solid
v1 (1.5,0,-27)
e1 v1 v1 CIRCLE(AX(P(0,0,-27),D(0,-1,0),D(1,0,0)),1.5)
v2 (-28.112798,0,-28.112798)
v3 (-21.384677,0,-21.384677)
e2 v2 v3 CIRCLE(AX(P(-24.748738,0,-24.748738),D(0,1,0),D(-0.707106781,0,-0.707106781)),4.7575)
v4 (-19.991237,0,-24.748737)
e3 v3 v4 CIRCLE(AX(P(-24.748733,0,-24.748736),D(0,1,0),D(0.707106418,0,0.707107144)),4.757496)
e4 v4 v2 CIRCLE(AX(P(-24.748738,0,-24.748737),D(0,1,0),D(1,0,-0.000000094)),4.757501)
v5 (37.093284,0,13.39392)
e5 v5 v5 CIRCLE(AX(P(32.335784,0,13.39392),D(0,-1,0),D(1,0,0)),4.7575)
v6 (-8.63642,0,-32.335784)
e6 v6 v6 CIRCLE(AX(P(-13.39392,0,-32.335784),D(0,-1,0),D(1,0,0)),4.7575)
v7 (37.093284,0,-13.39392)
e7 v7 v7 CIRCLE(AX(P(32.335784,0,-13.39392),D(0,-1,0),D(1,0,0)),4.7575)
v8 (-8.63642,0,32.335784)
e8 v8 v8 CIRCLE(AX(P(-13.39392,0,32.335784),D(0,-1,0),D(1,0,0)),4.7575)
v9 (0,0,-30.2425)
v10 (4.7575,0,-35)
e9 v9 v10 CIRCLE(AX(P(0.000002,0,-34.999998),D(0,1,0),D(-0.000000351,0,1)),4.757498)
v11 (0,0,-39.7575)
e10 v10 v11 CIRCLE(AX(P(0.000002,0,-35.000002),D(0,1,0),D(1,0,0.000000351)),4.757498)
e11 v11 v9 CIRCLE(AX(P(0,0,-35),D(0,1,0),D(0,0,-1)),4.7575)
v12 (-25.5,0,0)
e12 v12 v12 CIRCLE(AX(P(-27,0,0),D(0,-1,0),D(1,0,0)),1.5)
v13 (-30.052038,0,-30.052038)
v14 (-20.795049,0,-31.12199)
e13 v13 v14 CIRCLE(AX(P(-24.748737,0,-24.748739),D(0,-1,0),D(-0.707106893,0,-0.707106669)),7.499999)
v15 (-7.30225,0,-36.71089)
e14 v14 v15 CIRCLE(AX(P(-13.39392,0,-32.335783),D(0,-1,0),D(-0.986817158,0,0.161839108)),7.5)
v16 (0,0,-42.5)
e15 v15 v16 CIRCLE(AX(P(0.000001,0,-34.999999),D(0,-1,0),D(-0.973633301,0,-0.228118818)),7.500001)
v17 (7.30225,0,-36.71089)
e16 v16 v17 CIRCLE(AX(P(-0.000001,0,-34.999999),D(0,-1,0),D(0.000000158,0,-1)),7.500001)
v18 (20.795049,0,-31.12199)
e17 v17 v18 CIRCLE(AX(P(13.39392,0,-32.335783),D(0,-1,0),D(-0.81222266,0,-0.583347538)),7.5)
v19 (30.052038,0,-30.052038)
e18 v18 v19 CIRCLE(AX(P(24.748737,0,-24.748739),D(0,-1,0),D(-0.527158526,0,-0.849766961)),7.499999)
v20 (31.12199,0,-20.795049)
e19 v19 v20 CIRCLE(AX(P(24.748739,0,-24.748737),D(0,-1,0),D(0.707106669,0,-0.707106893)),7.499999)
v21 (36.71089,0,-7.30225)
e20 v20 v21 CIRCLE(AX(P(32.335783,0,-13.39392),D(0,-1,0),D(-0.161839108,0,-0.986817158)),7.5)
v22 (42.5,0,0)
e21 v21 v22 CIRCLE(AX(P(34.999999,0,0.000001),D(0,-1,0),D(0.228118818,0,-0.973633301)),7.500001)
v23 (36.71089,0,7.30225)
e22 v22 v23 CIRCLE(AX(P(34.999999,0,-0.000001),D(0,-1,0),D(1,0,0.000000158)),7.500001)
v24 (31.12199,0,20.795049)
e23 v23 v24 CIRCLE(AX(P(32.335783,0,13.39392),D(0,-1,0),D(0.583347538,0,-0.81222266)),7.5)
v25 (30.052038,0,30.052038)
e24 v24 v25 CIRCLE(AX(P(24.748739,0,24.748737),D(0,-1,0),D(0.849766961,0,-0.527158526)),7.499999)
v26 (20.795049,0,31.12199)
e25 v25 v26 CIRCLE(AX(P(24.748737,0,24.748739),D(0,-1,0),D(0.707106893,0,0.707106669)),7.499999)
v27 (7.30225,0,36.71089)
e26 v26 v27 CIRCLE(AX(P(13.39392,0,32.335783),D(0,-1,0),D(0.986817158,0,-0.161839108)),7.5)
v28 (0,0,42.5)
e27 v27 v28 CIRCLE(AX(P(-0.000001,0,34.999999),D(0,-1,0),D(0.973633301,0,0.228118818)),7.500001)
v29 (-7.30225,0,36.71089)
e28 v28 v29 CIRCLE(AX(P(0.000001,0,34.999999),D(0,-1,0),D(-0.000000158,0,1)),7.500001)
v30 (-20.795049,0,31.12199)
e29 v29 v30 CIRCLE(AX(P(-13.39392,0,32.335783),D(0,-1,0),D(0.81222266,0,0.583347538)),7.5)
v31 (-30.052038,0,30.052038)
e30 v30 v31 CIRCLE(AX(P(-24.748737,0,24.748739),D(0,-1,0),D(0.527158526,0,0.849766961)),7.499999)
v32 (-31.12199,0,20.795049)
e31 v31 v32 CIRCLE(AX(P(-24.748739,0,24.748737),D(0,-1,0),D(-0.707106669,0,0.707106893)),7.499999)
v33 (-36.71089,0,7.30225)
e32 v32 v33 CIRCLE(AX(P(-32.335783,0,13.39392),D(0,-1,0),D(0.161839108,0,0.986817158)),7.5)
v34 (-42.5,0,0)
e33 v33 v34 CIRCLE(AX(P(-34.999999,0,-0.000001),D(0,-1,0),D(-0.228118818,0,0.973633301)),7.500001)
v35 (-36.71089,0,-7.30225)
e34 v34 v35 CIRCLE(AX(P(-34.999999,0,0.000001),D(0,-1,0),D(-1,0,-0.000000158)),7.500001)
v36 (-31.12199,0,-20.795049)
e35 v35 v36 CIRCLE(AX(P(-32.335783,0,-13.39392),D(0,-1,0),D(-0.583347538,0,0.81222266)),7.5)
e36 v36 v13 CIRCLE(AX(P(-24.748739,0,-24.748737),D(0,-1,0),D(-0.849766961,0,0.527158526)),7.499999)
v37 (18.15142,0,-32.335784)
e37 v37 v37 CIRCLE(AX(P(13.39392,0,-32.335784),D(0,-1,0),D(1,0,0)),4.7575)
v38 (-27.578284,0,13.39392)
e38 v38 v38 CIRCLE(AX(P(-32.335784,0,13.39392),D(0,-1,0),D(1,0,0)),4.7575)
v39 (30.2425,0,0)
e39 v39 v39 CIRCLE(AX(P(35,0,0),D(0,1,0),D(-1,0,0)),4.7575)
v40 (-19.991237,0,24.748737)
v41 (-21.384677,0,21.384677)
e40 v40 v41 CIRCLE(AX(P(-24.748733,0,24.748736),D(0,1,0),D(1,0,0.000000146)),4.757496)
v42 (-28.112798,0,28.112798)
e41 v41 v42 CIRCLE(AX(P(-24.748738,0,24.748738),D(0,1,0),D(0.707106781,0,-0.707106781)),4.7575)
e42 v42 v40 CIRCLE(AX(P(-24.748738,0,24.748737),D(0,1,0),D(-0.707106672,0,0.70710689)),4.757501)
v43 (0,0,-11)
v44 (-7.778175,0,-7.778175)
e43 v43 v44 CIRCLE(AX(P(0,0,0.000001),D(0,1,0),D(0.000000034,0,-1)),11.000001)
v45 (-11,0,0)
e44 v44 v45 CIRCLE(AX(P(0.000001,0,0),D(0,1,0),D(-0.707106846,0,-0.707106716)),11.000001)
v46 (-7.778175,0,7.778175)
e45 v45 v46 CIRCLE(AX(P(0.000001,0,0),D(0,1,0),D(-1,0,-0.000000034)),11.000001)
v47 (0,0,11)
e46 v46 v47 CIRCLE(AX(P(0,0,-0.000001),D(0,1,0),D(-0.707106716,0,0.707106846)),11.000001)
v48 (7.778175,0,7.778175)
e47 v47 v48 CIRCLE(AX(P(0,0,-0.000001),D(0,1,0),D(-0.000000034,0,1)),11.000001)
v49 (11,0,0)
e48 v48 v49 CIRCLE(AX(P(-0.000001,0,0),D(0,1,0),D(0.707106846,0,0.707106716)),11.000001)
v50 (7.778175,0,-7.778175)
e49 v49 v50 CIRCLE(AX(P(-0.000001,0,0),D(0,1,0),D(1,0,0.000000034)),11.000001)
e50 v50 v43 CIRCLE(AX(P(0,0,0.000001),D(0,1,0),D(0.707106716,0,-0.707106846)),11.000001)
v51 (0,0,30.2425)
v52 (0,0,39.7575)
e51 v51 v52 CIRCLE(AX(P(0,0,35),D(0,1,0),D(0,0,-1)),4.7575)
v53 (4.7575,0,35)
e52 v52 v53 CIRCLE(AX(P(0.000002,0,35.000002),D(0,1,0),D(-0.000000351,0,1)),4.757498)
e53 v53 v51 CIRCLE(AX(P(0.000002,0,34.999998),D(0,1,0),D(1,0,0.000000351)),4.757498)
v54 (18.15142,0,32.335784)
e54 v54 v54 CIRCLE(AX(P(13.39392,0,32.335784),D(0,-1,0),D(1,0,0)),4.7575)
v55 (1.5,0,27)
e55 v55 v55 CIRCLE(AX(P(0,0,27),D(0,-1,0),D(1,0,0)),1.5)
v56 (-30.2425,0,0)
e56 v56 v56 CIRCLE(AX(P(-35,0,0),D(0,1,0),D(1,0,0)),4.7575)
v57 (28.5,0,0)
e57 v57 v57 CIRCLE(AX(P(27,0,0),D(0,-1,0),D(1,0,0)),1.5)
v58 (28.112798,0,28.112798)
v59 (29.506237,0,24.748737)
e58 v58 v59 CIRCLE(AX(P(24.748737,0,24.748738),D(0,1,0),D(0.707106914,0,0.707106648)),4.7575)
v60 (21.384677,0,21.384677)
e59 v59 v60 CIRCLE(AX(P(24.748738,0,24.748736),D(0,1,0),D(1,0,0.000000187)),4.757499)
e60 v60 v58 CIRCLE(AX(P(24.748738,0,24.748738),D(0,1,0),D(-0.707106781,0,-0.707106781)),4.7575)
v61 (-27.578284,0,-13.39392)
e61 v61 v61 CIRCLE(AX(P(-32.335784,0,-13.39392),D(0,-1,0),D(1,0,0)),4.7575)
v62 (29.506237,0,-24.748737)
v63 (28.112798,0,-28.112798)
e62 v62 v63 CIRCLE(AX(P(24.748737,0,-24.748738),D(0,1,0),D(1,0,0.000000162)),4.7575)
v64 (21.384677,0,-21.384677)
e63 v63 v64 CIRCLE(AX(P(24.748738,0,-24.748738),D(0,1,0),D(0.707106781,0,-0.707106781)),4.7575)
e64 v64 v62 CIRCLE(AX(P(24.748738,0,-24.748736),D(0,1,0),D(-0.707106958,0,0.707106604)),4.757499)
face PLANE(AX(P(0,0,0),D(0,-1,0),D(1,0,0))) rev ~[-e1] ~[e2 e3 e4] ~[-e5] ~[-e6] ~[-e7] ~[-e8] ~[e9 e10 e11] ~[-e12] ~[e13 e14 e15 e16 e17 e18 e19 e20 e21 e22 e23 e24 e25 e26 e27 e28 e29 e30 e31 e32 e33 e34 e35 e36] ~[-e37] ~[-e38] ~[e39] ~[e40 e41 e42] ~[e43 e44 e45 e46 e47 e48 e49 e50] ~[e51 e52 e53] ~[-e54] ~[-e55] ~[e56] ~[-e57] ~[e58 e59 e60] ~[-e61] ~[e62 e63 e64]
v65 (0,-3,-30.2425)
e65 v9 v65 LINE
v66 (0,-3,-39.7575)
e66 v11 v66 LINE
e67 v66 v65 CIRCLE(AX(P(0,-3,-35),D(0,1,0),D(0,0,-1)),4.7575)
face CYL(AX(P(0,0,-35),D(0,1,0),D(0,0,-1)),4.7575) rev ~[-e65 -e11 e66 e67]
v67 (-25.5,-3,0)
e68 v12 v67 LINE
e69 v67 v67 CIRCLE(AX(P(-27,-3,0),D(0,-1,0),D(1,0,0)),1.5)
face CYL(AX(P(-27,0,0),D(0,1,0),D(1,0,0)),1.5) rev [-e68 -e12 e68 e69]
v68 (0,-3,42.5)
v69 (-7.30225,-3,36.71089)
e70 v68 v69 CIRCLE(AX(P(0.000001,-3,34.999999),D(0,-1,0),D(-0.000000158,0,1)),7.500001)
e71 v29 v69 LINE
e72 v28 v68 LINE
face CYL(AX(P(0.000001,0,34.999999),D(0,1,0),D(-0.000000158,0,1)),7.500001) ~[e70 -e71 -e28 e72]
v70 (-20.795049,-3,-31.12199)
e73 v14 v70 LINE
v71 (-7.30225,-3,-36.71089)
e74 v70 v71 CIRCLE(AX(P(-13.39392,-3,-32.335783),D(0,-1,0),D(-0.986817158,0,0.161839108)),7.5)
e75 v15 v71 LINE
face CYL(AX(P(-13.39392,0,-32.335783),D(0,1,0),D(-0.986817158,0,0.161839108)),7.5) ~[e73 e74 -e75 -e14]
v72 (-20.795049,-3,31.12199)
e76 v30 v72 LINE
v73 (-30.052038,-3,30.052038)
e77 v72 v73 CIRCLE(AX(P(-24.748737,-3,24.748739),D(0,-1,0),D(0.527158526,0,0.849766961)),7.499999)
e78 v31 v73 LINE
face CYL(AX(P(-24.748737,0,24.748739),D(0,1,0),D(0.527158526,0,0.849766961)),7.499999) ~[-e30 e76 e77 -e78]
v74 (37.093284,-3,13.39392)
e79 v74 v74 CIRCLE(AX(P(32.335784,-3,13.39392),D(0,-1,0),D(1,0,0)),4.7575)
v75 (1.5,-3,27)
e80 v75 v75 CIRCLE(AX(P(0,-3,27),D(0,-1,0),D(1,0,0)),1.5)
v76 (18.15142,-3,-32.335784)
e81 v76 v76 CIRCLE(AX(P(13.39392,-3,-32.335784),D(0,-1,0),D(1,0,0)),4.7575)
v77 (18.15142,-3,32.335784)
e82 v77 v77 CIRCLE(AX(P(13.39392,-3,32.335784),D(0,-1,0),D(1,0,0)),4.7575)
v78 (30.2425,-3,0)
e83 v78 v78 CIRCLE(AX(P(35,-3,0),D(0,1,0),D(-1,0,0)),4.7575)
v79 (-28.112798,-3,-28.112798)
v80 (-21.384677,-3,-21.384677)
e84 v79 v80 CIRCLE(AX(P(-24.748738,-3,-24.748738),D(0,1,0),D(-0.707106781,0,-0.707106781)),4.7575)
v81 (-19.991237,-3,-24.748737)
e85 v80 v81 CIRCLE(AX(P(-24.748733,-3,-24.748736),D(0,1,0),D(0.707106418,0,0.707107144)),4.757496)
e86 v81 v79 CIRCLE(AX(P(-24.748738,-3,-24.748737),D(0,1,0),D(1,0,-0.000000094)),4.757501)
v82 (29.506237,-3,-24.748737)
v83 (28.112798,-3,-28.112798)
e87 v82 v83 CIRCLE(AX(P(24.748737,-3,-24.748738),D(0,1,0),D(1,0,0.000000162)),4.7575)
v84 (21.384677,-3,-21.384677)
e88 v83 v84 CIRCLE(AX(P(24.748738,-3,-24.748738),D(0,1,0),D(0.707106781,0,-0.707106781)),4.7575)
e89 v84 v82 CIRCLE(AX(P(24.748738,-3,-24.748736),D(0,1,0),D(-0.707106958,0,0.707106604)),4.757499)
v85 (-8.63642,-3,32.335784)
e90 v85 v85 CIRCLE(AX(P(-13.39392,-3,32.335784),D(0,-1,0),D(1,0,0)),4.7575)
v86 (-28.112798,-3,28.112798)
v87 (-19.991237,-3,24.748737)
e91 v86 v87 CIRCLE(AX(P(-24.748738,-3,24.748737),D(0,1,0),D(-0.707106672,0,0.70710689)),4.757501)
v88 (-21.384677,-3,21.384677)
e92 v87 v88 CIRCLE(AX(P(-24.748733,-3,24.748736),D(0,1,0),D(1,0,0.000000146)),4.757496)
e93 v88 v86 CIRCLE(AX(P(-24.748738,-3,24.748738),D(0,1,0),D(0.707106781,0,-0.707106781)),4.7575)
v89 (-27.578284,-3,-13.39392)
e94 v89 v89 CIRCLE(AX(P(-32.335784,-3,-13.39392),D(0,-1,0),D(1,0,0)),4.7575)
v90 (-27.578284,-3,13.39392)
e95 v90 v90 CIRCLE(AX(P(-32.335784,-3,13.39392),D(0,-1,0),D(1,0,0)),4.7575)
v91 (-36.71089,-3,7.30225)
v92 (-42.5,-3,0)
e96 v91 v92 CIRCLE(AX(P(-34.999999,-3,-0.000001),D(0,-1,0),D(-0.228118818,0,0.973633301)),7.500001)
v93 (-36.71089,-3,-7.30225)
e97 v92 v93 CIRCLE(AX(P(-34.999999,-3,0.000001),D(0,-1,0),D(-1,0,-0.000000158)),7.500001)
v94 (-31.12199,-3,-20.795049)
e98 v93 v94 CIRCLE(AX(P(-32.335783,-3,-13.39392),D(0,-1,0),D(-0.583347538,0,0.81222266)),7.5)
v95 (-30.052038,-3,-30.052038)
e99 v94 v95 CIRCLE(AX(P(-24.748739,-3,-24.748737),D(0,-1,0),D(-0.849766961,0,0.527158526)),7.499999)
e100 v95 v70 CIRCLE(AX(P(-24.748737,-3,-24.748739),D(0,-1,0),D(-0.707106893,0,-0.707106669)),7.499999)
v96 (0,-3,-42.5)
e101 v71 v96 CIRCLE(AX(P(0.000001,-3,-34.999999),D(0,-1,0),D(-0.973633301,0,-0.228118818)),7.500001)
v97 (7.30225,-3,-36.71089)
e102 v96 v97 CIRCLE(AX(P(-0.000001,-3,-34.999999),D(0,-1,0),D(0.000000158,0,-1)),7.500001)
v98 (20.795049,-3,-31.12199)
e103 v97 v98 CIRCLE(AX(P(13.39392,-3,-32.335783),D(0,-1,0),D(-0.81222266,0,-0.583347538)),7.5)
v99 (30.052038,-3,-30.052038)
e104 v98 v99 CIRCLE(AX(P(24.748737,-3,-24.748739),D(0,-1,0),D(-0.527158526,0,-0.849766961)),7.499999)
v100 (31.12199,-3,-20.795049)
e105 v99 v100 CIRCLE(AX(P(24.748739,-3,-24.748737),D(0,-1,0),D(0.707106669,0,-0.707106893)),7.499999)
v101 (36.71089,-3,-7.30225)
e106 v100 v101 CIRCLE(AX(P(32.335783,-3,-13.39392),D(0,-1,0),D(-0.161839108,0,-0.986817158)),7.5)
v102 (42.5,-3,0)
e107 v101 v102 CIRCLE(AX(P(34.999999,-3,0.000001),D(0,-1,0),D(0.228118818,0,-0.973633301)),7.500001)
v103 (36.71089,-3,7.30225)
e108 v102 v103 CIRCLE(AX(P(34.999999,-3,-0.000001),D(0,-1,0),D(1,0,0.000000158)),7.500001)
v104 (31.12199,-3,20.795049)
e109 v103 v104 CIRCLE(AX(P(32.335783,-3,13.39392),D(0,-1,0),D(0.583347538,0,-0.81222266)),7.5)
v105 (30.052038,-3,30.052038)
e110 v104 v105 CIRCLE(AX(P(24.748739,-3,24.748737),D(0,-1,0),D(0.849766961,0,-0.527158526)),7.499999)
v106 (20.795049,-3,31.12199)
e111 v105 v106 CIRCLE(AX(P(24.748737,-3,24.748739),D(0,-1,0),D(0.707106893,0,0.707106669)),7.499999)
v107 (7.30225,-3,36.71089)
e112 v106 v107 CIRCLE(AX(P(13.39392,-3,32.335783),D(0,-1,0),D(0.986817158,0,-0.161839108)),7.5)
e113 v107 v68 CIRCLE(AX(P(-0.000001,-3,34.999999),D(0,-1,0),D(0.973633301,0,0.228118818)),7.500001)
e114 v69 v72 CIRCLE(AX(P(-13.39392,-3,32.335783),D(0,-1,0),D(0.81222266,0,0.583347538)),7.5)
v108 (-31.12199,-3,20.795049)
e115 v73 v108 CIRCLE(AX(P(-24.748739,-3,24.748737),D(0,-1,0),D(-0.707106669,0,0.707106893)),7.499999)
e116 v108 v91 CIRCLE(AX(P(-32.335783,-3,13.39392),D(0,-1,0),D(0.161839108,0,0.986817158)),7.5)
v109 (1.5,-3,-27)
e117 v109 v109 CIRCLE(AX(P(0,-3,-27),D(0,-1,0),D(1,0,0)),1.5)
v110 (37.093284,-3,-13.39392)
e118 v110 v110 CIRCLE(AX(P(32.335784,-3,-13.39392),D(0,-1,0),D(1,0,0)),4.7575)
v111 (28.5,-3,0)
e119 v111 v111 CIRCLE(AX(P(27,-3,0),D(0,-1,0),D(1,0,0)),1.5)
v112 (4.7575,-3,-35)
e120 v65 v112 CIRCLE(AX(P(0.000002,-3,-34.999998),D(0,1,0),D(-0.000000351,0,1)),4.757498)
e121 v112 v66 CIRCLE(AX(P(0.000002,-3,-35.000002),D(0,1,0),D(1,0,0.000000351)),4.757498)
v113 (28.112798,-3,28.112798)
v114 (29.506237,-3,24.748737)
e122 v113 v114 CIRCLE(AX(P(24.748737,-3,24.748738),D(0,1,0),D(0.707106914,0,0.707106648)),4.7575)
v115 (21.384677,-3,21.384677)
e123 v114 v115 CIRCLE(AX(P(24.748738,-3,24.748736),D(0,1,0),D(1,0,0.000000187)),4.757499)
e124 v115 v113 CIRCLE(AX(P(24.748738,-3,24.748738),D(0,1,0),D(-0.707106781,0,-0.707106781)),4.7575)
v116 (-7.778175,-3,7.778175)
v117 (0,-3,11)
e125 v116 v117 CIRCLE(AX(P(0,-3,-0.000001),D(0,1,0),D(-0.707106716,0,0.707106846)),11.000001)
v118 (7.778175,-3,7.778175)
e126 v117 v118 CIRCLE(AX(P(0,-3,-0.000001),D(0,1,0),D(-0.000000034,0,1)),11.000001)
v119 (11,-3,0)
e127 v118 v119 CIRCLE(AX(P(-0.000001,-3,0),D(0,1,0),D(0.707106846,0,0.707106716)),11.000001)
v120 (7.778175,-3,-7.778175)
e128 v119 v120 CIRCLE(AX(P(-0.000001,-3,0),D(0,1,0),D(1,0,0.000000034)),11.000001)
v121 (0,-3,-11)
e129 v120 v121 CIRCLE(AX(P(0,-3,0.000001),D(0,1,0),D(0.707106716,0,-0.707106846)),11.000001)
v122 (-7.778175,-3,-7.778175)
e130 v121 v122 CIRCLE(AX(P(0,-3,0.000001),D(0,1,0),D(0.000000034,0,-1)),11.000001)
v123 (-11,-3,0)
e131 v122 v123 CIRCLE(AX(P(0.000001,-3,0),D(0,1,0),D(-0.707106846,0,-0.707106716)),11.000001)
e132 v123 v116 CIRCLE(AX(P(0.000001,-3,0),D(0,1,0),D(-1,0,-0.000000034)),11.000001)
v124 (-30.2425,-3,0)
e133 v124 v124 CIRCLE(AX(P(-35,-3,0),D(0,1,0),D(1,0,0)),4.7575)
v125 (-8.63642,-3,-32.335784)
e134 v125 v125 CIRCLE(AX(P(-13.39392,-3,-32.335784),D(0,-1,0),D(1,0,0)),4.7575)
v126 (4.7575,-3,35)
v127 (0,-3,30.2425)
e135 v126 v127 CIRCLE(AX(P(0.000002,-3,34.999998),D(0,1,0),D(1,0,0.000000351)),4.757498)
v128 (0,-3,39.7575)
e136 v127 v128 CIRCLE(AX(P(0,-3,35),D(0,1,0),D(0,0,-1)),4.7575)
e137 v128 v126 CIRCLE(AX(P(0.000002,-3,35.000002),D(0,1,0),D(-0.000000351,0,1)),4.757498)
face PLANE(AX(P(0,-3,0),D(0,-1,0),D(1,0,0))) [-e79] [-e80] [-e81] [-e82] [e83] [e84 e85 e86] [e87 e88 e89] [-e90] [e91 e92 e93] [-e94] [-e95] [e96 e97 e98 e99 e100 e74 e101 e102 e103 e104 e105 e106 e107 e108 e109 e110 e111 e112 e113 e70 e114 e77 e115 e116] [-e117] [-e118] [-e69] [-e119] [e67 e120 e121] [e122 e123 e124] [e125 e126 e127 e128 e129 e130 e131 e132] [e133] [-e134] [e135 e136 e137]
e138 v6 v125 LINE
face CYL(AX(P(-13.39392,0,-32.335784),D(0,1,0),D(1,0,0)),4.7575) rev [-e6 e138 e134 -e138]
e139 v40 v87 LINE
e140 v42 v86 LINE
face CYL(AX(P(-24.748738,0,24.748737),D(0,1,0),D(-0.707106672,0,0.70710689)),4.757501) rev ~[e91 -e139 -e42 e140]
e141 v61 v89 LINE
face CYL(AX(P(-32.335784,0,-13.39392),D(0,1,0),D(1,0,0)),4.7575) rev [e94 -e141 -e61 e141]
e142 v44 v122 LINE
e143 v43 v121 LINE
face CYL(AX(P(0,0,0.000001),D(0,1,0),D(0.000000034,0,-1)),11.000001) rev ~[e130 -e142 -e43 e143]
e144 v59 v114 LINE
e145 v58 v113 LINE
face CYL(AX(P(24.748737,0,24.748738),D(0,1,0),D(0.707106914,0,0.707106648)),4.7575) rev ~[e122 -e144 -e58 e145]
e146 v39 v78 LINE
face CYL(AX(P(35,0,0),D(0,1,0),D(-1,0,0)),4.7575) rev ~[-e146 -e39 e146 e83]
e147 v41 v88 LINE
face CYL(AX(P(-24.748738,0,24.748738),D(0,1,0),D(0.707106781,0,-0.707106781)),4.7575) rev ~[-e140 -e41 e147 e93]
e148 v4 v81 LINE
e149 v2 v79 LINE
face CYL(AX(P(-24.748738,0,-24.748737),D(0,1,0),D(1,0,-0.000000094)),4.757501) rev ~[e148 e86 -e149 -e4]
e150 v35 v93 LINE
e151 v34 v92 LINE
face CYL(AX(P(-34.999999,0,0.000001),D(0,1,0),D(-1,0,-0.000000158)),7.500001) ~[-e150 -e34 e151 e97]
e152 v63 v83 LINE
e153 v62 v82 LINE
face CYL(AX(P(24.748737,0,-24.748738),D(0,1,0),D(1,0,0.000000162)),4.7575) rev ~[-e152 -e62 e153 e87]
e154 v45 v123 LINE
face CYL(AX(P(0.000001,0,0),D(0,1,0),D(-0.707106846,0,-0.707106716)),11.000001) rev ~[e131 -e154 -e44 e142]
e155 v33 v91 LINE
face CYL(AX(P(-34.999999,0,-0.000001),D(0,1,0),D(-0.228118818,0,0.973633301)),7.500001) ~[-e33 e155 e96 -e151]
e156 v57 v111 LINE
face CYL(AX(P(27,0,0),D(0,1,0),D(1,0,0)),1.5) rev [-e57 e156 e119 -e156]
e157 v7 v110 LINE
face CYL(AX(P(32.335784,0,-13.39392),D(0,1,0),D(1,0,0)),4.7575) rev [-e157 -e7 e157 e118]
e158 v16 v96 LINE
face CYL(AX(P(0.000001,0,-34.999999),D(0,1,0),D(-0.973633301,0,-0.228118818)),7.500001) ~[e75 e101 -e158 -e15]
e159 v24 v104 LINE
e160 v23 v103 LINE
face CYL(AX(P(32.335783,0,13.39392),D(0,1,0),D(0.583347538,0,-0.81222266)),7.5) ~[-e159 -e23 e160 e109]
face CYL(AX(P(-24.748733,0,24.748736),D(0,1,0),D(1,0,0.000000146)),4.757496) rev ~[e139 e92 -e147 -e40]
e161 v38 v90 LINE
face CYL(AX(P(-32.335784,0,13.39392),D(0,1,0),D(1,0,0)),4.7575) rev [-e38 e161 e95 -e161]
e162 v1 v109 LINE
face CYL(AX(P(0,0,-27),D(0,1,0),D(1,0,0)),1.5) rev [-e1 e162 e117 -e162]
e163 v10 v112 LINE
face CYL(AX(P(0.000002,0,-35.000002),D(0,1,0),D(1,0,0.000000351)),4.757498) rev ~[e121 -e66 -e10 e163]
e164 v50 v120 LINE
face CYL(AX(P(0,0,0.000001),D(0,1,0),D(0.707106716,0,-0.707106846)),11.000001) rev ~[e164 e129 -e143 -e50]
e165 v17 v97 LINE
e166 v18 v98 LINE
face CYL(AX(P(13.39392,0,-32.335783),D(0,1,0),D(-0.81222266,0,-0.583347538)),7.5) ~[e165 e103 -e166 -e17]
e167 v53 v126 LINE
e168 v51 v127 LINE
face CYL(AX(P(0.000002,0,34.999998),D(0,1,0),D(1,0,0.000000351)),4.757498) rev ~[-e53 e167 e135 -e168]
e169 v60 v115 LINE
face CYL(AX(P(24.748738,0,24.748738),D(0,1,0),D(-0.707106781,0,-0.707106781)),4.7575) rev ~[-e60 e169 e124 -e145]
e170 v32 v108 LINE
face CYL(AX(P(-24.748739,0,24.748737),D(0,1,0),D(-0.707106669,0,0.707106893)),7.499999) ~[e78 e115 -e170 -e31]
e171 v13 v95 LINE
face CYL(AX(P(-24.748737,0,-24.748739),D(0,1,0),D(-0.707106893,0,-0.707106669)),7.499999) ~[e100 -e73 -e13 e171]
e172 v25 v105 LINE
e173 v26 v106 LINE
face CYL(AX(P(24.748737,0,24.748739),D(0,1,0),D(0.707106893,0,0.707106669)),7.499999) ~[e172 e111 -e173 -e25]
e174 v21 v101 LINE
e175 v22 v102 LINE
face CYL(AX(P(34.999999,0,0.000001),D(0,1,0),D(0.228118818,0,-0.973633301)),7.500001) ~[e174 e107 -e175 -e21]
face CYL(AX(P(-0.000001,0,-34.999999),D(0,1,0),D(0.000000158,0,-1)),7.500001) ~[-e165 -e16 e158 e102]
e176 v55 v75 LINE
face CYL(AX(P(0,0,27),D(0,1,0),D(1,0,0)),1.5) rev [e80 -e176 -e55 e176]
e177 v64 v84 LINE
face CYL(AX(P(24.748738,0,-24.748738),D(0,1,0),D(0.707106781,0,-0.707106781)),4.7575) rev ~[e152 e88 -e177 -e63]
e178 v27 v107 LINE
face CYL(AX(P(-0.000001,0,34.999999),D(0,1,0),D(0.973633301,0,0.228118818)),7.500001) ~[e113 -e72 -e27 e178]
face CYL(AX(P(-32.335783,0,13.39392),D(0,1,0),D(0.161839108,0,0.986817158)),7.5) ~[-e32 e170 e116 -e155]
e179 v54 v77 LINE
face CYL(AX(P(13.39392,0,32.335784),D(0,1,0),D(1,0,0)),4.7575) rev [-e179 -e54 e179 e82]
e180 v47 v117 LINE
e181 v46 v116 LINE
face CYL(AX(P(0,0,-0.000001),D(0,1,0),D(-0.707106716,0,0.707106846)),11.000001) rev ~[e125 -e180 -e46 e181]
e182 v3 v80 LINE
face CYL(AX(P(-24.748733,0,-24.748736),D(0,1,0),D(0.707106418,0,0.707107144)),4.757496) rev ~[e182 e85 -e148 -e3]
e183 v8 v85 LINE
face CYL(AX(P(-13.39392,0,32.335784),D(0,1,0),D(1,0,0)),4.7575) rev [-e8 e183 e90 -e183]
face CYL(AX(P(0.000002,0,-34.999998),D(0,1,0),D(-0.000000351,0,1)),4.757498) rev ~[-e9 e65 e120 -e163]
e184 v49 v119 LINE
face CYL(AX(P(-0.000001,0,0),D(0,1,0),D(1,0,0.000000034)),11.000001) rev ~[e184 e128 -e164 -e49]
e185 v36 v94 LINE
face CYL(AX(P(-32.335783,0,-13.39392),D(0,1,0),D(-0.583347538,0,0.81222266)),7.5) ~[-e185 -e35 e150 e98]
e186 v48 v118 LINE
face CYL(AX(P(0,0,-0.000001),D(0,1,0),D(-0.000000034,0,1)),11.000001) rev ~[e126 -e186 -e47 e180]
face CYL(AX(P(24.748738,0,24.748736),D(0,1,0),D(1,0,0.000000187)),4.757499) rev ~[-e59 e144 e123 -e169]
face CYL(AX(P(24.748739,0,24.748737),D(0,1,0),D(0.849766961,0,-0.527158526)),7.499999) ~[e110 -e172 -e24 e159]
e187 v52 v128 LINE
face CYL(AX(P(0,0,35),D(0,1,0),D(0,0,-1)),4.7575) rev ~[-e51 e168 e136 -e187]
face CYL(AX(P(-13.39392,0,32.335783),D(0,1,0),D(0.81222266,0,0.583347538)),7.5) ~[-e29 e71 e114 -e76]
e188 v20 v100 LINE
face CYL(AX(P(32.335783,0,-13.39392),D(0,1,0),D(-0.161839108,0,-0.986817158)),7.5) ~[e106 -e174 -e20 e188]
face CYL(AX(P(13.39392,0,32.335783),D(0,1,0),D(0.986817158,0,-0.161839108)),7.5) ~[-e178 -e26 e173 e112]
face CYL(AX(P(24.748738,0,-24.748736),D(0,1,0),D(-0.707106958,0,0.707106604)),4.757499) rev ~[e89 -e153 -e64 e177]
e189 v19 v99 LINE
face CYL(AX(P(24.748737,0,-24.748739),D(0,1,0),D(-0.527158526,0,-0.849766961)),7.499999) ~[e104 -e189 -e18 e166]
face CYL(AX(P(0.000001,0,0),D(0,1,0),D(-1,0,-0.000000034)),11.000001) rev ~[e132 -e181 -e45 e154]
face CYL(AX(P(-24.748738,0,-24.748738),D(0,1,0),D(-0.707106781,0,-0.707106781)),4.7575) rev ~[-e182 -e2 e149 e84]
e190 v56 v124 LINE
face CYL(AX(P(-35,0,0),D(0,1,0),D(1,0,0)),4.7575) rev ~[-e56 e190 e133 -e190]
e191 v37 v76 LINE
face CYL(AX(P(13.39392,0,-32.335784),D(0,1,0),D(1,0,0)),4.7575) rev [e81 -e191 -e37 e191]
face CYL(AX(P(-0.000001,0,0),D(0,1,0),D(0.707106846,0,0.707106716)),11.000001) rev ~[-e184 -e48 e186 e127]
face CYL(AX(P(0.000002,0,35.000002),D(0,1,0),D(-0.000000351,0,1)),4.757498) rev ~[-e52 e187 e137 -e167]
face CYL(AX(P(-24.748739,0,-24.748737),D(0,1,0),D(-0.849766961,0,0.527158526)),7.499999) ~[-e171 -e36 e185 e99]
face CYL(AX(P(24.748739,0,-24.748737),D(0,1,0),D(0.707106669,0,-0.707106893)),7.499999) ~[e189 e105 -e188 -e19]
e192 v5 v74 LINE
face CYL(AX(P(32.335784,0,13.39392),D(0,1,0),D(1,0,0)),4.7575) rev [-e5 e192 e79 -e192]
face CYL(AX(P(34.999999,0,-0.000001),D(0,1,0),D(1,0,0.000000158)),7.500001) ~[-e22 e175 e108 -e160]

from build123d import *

# Parameters (mm, degrees)
F0_R     = 4.7575
F0_R_2   = 1.5
F1_DEPTH = 3


with BuildPart() as f1:
    # F0 (on Front) → F1 (new body)
    with BuildSketch(Plane.XZ):
        with BuildLine():
            ThreePointArc((20.795049, 31.12199), (16.264046, 39.26488), (7.30225, 36.71089))
            ThreePointArc((7.30225, 36.71089), (4.659309, 40.877145), (0, 42.5))
            ThreePointArc((0, 42.5), (-4.659309, 40.877145), (-7.30225, 36.71089))
            ThreePointArc((-7.30225, 36.71089), (-16.264046, 39.26488), (-20.795049, 31.12199))
            ThreePointArc((-20.795049, 31.12199), (-25.609878, 32.199136), (-30.052038, 30.052038))
            ThreePointArc((-30.052038, 30.052038), (-32.199136, 25.609878), (-31.12199, 20.795049))
            ThreePointArc((-31.12199, 20.795049), (-39.26488, 16.264046), (-36.71089, 7.30225))
            ThreePointArc((-36.71089, 7.30225), (-40.877145, 4.659309), (-42.5, 0))
            ThreePointArc((-42.5, 0), (-40.877145, -4.659309), (-36.71089, -7.30225))
            ThreePointArc((-36.71089, -7.30225), (-39.26488, -16.264046), (-31.12199, -20.795049))
            ThreePointArc((-31.12199, -20.795049), (-32.199136, -25.609878), (-30.052038, -30.052038))
            ThreePointArc((-30.052038, -30.052038), (-25.609878, -32.199136), (-20.795049, -31.12199))
            ThreePointArc((-20.795049, -31.12199), (-16.264046, -39.26488), (-7.30225, -36.71089))
            ThreePointArc((-7.30225, -36.71089), (-4.659309, -40.877145), (0, -42.5))
            ThreePointArc((0, -42.5), (4.659309, -40.877145), (7.30225, -36.71089))
            ThreePointArc((7.30225, -36.71089), (16.264046, -39.26488), (20.795049, -31.12199))
            ThreePointArc((20.795049, -31.12199), (25.609878, -32.199136), (30.052038, -30.052038))
            ThreePointArc((30.052038, -30.052038), (32.199136, -25.609878), (31.12199, -20.795049))
            ThreePointArc((31.12199, -20.795049), (39.26488, -16.264046), (36.71089, -7.30225))
            ThreePointArc((36.71089, -7.30225), (40.877145, -4.659309), (42.5, 0))
            ThreePointArc((42.5, 0), (40.877145, 4.659309), (36.71089, 7.30225))
            ThreePointArc((36.71089, 7.30225), (39.26488, 16.264046), (31.12199, 20.795049))
            ThreePointArc((31.12199, 20.795049), (32.199136, 25.609878), (30.052038, 30.052038))
            ThreePointArc((30.052038, 30.052038), (25.609878, 32.199136), (20.795049, 31.12199))
        make_face()
        with BuildLine():
            ThreePointArc((-28.112798, -28.112798), (-28.112798, -21.384677), (-21.384677, -21.384677))
            ThreePointArc((-21.384677, -21.384677), (-20.35338, -22.928121), (-19.991237, -24.748737))
            ThreePointArc((-19.991237, -24.748737), (-22.928121, -29.144094), (-28.112798, -28.112798))
        make_face(mode=Mode.SUBTRACT)
        with Locations((-13.39392, -32.335784)):
            Circle(F0_R, mode=Mode.SUBTRACT)
        with Locations((-32.335784, -13.39392)):
            Circle(F0_R, mode=Mode.SUBTRACT)
        with BuildLine():
            ThreePointArc((0, -39.7575), (-4.7575, -35), (0, -30.2425))
            ThreePointArc((0, -30.2425), (3.364061, -31.635939), (4.7575, -35))
            ThreePointArc((4.7575, -35), (3.364061, -38.364061), (0, -39.7575))
        make_face(mode=Mode.SUBTRACT)
        with Locations((13.39392, -32.335784)):
            Circle(F0_R, mode=Mode.SUBTRACT)
        with Locations((0, -27)):
            Circle(F0_R_2, mode=Mode.SUBTRACT)
        with BuildLine():
            ThreePointArc((28.112798, -28.112798), (21.384677, -28.112798), (21.384677, -21.384677))
            ThreePointArc((21.384677, -21.384677), (26.569354, -20.35338), (29.506237, -24.748737))
            ThreePointArc((29.506237, -24.748737), (29.144094, -26.569354), (28.112798, -28.112798))
        make_face(mode=Mode.SUBTRACT)
        with Locations((32.335784, -13.39392)):
            Circle(F0_R, mode=Mode.SUBTRACT)
        with BuildLine():
            ThreePointArc((-39.7575, 0), (-35, 4.7575), (-30.2425, 0))
            ThreePointArc((-30.2425, 0), (-35, -4.7575), (-39.7575, 0))
        make_face(mode=Mode.SUBTRACT)
        with Locations((-27, 0)):
            Circle(F0_R_2, mode=Mode.SUBTRACT)
        with Locations((-32.335784, 13.39392)):
            Circle(F0_R, mode=Mode.SUBTRACT)
        with BuildLine():
            ThreePointArc((-19.991237, 24.748737), (-20.35338, 22.928121), (-21.384677, 21.384677))
            ThreePointArc((-21.384677, 21.384677), (-28.112798, 21.384677), (-28.112798, 28.112798))
            ThreePointArc((-28.112798, 28.112798), (-22.928121, 29.144094), (-19.991237, 24.748737))
        make_face(mode=Mode.SUBTRACT)
        with Locations((-13.39392, 32.335784)):
            Circle(F0_R, mode=Mode.SUBTRACT)
        with BuildLine():
            ThreePointArc((0, 11), (4.209518, 10.162675), (7.778175, 7.778175))
            ThreePointArc((7.778175, 7.778175), (10.162675, 4.209518), (11, 0))
            ThreePointArc((11, 0), (10.162675, -4.209518), (7.778175, -7.778175))
            ThreePointArc((7.778175, -7.778175), (4.209518, -10.162675), (0, -11))
            ThreePointArc((0, -11), (-4.209518, -10.162675), (-7.778175, -7.778175))
            ThreePointArc((-7.778175, -7.778175), (-10.162675, -4.209518), (-11, 0))
            ThreePointArc((-11, 0), (-10.162675, 4.209518), (-7.778175, 7.778175))
            ThreePointArc((-7.778175, 7.778175), (-4.209518, 10.162675), (0, 11))
        make_face(mode=Mode.SUBTRACT)
        with Locations((27, 0)):
            Circle(F0_R_2, mode=Mode.SUBTRACT)
        with BuildLine():
            ThreePointArc((39.7575, 0), (35, -4.7575), (30.2425, 0))
            ThreePointArc((30.2425, 0), (35, 4.7575), (39.7575, 0))
        make_face(mode=Mode.SUBTRACT)
        with Locations((32.335784, 13.39392)):
            Circle(F0_R, mode=Mode.SUBTRACT)
        with Locations((0, 27)):
            Circle(F0_R_2, mode=Mode.SUBTRACT)
        with BuildLine():
            ThreePointArc((0, 39.7575), (3.364061, 38.364061), (4.7575, 35))
            ThreePointArc((4.7575, 35), (3.364061, 31.635939), (0, 30.2425))
            ThreePointArc((0, 30.2425), (-4.7575, 35), (0, 39.7575))
        make_face(mode=Mode.SUBTRACT)
        with Locations((13.39392, 32.335784)):
            Circle(F0_R, mode=Mode.SUBTRACT)
        with BuildLine():
            ThreePointArc((21.384677, 21.384677), (21.384677, 28.112798), (28.112798, 28.112798))
            ThreePointArc((28.112798, 28.112798), (29.144094, 26.569354), (29.506237, 24.748737))
            ThreePointArc((29.506237, 24.748737), (26.569354, 20.35338), (21.384677, 21.384677))
        make_face(mode=Mode.SUBTRACT)
    extrude(amount=F1_DEPTH)


solid = f1.part
